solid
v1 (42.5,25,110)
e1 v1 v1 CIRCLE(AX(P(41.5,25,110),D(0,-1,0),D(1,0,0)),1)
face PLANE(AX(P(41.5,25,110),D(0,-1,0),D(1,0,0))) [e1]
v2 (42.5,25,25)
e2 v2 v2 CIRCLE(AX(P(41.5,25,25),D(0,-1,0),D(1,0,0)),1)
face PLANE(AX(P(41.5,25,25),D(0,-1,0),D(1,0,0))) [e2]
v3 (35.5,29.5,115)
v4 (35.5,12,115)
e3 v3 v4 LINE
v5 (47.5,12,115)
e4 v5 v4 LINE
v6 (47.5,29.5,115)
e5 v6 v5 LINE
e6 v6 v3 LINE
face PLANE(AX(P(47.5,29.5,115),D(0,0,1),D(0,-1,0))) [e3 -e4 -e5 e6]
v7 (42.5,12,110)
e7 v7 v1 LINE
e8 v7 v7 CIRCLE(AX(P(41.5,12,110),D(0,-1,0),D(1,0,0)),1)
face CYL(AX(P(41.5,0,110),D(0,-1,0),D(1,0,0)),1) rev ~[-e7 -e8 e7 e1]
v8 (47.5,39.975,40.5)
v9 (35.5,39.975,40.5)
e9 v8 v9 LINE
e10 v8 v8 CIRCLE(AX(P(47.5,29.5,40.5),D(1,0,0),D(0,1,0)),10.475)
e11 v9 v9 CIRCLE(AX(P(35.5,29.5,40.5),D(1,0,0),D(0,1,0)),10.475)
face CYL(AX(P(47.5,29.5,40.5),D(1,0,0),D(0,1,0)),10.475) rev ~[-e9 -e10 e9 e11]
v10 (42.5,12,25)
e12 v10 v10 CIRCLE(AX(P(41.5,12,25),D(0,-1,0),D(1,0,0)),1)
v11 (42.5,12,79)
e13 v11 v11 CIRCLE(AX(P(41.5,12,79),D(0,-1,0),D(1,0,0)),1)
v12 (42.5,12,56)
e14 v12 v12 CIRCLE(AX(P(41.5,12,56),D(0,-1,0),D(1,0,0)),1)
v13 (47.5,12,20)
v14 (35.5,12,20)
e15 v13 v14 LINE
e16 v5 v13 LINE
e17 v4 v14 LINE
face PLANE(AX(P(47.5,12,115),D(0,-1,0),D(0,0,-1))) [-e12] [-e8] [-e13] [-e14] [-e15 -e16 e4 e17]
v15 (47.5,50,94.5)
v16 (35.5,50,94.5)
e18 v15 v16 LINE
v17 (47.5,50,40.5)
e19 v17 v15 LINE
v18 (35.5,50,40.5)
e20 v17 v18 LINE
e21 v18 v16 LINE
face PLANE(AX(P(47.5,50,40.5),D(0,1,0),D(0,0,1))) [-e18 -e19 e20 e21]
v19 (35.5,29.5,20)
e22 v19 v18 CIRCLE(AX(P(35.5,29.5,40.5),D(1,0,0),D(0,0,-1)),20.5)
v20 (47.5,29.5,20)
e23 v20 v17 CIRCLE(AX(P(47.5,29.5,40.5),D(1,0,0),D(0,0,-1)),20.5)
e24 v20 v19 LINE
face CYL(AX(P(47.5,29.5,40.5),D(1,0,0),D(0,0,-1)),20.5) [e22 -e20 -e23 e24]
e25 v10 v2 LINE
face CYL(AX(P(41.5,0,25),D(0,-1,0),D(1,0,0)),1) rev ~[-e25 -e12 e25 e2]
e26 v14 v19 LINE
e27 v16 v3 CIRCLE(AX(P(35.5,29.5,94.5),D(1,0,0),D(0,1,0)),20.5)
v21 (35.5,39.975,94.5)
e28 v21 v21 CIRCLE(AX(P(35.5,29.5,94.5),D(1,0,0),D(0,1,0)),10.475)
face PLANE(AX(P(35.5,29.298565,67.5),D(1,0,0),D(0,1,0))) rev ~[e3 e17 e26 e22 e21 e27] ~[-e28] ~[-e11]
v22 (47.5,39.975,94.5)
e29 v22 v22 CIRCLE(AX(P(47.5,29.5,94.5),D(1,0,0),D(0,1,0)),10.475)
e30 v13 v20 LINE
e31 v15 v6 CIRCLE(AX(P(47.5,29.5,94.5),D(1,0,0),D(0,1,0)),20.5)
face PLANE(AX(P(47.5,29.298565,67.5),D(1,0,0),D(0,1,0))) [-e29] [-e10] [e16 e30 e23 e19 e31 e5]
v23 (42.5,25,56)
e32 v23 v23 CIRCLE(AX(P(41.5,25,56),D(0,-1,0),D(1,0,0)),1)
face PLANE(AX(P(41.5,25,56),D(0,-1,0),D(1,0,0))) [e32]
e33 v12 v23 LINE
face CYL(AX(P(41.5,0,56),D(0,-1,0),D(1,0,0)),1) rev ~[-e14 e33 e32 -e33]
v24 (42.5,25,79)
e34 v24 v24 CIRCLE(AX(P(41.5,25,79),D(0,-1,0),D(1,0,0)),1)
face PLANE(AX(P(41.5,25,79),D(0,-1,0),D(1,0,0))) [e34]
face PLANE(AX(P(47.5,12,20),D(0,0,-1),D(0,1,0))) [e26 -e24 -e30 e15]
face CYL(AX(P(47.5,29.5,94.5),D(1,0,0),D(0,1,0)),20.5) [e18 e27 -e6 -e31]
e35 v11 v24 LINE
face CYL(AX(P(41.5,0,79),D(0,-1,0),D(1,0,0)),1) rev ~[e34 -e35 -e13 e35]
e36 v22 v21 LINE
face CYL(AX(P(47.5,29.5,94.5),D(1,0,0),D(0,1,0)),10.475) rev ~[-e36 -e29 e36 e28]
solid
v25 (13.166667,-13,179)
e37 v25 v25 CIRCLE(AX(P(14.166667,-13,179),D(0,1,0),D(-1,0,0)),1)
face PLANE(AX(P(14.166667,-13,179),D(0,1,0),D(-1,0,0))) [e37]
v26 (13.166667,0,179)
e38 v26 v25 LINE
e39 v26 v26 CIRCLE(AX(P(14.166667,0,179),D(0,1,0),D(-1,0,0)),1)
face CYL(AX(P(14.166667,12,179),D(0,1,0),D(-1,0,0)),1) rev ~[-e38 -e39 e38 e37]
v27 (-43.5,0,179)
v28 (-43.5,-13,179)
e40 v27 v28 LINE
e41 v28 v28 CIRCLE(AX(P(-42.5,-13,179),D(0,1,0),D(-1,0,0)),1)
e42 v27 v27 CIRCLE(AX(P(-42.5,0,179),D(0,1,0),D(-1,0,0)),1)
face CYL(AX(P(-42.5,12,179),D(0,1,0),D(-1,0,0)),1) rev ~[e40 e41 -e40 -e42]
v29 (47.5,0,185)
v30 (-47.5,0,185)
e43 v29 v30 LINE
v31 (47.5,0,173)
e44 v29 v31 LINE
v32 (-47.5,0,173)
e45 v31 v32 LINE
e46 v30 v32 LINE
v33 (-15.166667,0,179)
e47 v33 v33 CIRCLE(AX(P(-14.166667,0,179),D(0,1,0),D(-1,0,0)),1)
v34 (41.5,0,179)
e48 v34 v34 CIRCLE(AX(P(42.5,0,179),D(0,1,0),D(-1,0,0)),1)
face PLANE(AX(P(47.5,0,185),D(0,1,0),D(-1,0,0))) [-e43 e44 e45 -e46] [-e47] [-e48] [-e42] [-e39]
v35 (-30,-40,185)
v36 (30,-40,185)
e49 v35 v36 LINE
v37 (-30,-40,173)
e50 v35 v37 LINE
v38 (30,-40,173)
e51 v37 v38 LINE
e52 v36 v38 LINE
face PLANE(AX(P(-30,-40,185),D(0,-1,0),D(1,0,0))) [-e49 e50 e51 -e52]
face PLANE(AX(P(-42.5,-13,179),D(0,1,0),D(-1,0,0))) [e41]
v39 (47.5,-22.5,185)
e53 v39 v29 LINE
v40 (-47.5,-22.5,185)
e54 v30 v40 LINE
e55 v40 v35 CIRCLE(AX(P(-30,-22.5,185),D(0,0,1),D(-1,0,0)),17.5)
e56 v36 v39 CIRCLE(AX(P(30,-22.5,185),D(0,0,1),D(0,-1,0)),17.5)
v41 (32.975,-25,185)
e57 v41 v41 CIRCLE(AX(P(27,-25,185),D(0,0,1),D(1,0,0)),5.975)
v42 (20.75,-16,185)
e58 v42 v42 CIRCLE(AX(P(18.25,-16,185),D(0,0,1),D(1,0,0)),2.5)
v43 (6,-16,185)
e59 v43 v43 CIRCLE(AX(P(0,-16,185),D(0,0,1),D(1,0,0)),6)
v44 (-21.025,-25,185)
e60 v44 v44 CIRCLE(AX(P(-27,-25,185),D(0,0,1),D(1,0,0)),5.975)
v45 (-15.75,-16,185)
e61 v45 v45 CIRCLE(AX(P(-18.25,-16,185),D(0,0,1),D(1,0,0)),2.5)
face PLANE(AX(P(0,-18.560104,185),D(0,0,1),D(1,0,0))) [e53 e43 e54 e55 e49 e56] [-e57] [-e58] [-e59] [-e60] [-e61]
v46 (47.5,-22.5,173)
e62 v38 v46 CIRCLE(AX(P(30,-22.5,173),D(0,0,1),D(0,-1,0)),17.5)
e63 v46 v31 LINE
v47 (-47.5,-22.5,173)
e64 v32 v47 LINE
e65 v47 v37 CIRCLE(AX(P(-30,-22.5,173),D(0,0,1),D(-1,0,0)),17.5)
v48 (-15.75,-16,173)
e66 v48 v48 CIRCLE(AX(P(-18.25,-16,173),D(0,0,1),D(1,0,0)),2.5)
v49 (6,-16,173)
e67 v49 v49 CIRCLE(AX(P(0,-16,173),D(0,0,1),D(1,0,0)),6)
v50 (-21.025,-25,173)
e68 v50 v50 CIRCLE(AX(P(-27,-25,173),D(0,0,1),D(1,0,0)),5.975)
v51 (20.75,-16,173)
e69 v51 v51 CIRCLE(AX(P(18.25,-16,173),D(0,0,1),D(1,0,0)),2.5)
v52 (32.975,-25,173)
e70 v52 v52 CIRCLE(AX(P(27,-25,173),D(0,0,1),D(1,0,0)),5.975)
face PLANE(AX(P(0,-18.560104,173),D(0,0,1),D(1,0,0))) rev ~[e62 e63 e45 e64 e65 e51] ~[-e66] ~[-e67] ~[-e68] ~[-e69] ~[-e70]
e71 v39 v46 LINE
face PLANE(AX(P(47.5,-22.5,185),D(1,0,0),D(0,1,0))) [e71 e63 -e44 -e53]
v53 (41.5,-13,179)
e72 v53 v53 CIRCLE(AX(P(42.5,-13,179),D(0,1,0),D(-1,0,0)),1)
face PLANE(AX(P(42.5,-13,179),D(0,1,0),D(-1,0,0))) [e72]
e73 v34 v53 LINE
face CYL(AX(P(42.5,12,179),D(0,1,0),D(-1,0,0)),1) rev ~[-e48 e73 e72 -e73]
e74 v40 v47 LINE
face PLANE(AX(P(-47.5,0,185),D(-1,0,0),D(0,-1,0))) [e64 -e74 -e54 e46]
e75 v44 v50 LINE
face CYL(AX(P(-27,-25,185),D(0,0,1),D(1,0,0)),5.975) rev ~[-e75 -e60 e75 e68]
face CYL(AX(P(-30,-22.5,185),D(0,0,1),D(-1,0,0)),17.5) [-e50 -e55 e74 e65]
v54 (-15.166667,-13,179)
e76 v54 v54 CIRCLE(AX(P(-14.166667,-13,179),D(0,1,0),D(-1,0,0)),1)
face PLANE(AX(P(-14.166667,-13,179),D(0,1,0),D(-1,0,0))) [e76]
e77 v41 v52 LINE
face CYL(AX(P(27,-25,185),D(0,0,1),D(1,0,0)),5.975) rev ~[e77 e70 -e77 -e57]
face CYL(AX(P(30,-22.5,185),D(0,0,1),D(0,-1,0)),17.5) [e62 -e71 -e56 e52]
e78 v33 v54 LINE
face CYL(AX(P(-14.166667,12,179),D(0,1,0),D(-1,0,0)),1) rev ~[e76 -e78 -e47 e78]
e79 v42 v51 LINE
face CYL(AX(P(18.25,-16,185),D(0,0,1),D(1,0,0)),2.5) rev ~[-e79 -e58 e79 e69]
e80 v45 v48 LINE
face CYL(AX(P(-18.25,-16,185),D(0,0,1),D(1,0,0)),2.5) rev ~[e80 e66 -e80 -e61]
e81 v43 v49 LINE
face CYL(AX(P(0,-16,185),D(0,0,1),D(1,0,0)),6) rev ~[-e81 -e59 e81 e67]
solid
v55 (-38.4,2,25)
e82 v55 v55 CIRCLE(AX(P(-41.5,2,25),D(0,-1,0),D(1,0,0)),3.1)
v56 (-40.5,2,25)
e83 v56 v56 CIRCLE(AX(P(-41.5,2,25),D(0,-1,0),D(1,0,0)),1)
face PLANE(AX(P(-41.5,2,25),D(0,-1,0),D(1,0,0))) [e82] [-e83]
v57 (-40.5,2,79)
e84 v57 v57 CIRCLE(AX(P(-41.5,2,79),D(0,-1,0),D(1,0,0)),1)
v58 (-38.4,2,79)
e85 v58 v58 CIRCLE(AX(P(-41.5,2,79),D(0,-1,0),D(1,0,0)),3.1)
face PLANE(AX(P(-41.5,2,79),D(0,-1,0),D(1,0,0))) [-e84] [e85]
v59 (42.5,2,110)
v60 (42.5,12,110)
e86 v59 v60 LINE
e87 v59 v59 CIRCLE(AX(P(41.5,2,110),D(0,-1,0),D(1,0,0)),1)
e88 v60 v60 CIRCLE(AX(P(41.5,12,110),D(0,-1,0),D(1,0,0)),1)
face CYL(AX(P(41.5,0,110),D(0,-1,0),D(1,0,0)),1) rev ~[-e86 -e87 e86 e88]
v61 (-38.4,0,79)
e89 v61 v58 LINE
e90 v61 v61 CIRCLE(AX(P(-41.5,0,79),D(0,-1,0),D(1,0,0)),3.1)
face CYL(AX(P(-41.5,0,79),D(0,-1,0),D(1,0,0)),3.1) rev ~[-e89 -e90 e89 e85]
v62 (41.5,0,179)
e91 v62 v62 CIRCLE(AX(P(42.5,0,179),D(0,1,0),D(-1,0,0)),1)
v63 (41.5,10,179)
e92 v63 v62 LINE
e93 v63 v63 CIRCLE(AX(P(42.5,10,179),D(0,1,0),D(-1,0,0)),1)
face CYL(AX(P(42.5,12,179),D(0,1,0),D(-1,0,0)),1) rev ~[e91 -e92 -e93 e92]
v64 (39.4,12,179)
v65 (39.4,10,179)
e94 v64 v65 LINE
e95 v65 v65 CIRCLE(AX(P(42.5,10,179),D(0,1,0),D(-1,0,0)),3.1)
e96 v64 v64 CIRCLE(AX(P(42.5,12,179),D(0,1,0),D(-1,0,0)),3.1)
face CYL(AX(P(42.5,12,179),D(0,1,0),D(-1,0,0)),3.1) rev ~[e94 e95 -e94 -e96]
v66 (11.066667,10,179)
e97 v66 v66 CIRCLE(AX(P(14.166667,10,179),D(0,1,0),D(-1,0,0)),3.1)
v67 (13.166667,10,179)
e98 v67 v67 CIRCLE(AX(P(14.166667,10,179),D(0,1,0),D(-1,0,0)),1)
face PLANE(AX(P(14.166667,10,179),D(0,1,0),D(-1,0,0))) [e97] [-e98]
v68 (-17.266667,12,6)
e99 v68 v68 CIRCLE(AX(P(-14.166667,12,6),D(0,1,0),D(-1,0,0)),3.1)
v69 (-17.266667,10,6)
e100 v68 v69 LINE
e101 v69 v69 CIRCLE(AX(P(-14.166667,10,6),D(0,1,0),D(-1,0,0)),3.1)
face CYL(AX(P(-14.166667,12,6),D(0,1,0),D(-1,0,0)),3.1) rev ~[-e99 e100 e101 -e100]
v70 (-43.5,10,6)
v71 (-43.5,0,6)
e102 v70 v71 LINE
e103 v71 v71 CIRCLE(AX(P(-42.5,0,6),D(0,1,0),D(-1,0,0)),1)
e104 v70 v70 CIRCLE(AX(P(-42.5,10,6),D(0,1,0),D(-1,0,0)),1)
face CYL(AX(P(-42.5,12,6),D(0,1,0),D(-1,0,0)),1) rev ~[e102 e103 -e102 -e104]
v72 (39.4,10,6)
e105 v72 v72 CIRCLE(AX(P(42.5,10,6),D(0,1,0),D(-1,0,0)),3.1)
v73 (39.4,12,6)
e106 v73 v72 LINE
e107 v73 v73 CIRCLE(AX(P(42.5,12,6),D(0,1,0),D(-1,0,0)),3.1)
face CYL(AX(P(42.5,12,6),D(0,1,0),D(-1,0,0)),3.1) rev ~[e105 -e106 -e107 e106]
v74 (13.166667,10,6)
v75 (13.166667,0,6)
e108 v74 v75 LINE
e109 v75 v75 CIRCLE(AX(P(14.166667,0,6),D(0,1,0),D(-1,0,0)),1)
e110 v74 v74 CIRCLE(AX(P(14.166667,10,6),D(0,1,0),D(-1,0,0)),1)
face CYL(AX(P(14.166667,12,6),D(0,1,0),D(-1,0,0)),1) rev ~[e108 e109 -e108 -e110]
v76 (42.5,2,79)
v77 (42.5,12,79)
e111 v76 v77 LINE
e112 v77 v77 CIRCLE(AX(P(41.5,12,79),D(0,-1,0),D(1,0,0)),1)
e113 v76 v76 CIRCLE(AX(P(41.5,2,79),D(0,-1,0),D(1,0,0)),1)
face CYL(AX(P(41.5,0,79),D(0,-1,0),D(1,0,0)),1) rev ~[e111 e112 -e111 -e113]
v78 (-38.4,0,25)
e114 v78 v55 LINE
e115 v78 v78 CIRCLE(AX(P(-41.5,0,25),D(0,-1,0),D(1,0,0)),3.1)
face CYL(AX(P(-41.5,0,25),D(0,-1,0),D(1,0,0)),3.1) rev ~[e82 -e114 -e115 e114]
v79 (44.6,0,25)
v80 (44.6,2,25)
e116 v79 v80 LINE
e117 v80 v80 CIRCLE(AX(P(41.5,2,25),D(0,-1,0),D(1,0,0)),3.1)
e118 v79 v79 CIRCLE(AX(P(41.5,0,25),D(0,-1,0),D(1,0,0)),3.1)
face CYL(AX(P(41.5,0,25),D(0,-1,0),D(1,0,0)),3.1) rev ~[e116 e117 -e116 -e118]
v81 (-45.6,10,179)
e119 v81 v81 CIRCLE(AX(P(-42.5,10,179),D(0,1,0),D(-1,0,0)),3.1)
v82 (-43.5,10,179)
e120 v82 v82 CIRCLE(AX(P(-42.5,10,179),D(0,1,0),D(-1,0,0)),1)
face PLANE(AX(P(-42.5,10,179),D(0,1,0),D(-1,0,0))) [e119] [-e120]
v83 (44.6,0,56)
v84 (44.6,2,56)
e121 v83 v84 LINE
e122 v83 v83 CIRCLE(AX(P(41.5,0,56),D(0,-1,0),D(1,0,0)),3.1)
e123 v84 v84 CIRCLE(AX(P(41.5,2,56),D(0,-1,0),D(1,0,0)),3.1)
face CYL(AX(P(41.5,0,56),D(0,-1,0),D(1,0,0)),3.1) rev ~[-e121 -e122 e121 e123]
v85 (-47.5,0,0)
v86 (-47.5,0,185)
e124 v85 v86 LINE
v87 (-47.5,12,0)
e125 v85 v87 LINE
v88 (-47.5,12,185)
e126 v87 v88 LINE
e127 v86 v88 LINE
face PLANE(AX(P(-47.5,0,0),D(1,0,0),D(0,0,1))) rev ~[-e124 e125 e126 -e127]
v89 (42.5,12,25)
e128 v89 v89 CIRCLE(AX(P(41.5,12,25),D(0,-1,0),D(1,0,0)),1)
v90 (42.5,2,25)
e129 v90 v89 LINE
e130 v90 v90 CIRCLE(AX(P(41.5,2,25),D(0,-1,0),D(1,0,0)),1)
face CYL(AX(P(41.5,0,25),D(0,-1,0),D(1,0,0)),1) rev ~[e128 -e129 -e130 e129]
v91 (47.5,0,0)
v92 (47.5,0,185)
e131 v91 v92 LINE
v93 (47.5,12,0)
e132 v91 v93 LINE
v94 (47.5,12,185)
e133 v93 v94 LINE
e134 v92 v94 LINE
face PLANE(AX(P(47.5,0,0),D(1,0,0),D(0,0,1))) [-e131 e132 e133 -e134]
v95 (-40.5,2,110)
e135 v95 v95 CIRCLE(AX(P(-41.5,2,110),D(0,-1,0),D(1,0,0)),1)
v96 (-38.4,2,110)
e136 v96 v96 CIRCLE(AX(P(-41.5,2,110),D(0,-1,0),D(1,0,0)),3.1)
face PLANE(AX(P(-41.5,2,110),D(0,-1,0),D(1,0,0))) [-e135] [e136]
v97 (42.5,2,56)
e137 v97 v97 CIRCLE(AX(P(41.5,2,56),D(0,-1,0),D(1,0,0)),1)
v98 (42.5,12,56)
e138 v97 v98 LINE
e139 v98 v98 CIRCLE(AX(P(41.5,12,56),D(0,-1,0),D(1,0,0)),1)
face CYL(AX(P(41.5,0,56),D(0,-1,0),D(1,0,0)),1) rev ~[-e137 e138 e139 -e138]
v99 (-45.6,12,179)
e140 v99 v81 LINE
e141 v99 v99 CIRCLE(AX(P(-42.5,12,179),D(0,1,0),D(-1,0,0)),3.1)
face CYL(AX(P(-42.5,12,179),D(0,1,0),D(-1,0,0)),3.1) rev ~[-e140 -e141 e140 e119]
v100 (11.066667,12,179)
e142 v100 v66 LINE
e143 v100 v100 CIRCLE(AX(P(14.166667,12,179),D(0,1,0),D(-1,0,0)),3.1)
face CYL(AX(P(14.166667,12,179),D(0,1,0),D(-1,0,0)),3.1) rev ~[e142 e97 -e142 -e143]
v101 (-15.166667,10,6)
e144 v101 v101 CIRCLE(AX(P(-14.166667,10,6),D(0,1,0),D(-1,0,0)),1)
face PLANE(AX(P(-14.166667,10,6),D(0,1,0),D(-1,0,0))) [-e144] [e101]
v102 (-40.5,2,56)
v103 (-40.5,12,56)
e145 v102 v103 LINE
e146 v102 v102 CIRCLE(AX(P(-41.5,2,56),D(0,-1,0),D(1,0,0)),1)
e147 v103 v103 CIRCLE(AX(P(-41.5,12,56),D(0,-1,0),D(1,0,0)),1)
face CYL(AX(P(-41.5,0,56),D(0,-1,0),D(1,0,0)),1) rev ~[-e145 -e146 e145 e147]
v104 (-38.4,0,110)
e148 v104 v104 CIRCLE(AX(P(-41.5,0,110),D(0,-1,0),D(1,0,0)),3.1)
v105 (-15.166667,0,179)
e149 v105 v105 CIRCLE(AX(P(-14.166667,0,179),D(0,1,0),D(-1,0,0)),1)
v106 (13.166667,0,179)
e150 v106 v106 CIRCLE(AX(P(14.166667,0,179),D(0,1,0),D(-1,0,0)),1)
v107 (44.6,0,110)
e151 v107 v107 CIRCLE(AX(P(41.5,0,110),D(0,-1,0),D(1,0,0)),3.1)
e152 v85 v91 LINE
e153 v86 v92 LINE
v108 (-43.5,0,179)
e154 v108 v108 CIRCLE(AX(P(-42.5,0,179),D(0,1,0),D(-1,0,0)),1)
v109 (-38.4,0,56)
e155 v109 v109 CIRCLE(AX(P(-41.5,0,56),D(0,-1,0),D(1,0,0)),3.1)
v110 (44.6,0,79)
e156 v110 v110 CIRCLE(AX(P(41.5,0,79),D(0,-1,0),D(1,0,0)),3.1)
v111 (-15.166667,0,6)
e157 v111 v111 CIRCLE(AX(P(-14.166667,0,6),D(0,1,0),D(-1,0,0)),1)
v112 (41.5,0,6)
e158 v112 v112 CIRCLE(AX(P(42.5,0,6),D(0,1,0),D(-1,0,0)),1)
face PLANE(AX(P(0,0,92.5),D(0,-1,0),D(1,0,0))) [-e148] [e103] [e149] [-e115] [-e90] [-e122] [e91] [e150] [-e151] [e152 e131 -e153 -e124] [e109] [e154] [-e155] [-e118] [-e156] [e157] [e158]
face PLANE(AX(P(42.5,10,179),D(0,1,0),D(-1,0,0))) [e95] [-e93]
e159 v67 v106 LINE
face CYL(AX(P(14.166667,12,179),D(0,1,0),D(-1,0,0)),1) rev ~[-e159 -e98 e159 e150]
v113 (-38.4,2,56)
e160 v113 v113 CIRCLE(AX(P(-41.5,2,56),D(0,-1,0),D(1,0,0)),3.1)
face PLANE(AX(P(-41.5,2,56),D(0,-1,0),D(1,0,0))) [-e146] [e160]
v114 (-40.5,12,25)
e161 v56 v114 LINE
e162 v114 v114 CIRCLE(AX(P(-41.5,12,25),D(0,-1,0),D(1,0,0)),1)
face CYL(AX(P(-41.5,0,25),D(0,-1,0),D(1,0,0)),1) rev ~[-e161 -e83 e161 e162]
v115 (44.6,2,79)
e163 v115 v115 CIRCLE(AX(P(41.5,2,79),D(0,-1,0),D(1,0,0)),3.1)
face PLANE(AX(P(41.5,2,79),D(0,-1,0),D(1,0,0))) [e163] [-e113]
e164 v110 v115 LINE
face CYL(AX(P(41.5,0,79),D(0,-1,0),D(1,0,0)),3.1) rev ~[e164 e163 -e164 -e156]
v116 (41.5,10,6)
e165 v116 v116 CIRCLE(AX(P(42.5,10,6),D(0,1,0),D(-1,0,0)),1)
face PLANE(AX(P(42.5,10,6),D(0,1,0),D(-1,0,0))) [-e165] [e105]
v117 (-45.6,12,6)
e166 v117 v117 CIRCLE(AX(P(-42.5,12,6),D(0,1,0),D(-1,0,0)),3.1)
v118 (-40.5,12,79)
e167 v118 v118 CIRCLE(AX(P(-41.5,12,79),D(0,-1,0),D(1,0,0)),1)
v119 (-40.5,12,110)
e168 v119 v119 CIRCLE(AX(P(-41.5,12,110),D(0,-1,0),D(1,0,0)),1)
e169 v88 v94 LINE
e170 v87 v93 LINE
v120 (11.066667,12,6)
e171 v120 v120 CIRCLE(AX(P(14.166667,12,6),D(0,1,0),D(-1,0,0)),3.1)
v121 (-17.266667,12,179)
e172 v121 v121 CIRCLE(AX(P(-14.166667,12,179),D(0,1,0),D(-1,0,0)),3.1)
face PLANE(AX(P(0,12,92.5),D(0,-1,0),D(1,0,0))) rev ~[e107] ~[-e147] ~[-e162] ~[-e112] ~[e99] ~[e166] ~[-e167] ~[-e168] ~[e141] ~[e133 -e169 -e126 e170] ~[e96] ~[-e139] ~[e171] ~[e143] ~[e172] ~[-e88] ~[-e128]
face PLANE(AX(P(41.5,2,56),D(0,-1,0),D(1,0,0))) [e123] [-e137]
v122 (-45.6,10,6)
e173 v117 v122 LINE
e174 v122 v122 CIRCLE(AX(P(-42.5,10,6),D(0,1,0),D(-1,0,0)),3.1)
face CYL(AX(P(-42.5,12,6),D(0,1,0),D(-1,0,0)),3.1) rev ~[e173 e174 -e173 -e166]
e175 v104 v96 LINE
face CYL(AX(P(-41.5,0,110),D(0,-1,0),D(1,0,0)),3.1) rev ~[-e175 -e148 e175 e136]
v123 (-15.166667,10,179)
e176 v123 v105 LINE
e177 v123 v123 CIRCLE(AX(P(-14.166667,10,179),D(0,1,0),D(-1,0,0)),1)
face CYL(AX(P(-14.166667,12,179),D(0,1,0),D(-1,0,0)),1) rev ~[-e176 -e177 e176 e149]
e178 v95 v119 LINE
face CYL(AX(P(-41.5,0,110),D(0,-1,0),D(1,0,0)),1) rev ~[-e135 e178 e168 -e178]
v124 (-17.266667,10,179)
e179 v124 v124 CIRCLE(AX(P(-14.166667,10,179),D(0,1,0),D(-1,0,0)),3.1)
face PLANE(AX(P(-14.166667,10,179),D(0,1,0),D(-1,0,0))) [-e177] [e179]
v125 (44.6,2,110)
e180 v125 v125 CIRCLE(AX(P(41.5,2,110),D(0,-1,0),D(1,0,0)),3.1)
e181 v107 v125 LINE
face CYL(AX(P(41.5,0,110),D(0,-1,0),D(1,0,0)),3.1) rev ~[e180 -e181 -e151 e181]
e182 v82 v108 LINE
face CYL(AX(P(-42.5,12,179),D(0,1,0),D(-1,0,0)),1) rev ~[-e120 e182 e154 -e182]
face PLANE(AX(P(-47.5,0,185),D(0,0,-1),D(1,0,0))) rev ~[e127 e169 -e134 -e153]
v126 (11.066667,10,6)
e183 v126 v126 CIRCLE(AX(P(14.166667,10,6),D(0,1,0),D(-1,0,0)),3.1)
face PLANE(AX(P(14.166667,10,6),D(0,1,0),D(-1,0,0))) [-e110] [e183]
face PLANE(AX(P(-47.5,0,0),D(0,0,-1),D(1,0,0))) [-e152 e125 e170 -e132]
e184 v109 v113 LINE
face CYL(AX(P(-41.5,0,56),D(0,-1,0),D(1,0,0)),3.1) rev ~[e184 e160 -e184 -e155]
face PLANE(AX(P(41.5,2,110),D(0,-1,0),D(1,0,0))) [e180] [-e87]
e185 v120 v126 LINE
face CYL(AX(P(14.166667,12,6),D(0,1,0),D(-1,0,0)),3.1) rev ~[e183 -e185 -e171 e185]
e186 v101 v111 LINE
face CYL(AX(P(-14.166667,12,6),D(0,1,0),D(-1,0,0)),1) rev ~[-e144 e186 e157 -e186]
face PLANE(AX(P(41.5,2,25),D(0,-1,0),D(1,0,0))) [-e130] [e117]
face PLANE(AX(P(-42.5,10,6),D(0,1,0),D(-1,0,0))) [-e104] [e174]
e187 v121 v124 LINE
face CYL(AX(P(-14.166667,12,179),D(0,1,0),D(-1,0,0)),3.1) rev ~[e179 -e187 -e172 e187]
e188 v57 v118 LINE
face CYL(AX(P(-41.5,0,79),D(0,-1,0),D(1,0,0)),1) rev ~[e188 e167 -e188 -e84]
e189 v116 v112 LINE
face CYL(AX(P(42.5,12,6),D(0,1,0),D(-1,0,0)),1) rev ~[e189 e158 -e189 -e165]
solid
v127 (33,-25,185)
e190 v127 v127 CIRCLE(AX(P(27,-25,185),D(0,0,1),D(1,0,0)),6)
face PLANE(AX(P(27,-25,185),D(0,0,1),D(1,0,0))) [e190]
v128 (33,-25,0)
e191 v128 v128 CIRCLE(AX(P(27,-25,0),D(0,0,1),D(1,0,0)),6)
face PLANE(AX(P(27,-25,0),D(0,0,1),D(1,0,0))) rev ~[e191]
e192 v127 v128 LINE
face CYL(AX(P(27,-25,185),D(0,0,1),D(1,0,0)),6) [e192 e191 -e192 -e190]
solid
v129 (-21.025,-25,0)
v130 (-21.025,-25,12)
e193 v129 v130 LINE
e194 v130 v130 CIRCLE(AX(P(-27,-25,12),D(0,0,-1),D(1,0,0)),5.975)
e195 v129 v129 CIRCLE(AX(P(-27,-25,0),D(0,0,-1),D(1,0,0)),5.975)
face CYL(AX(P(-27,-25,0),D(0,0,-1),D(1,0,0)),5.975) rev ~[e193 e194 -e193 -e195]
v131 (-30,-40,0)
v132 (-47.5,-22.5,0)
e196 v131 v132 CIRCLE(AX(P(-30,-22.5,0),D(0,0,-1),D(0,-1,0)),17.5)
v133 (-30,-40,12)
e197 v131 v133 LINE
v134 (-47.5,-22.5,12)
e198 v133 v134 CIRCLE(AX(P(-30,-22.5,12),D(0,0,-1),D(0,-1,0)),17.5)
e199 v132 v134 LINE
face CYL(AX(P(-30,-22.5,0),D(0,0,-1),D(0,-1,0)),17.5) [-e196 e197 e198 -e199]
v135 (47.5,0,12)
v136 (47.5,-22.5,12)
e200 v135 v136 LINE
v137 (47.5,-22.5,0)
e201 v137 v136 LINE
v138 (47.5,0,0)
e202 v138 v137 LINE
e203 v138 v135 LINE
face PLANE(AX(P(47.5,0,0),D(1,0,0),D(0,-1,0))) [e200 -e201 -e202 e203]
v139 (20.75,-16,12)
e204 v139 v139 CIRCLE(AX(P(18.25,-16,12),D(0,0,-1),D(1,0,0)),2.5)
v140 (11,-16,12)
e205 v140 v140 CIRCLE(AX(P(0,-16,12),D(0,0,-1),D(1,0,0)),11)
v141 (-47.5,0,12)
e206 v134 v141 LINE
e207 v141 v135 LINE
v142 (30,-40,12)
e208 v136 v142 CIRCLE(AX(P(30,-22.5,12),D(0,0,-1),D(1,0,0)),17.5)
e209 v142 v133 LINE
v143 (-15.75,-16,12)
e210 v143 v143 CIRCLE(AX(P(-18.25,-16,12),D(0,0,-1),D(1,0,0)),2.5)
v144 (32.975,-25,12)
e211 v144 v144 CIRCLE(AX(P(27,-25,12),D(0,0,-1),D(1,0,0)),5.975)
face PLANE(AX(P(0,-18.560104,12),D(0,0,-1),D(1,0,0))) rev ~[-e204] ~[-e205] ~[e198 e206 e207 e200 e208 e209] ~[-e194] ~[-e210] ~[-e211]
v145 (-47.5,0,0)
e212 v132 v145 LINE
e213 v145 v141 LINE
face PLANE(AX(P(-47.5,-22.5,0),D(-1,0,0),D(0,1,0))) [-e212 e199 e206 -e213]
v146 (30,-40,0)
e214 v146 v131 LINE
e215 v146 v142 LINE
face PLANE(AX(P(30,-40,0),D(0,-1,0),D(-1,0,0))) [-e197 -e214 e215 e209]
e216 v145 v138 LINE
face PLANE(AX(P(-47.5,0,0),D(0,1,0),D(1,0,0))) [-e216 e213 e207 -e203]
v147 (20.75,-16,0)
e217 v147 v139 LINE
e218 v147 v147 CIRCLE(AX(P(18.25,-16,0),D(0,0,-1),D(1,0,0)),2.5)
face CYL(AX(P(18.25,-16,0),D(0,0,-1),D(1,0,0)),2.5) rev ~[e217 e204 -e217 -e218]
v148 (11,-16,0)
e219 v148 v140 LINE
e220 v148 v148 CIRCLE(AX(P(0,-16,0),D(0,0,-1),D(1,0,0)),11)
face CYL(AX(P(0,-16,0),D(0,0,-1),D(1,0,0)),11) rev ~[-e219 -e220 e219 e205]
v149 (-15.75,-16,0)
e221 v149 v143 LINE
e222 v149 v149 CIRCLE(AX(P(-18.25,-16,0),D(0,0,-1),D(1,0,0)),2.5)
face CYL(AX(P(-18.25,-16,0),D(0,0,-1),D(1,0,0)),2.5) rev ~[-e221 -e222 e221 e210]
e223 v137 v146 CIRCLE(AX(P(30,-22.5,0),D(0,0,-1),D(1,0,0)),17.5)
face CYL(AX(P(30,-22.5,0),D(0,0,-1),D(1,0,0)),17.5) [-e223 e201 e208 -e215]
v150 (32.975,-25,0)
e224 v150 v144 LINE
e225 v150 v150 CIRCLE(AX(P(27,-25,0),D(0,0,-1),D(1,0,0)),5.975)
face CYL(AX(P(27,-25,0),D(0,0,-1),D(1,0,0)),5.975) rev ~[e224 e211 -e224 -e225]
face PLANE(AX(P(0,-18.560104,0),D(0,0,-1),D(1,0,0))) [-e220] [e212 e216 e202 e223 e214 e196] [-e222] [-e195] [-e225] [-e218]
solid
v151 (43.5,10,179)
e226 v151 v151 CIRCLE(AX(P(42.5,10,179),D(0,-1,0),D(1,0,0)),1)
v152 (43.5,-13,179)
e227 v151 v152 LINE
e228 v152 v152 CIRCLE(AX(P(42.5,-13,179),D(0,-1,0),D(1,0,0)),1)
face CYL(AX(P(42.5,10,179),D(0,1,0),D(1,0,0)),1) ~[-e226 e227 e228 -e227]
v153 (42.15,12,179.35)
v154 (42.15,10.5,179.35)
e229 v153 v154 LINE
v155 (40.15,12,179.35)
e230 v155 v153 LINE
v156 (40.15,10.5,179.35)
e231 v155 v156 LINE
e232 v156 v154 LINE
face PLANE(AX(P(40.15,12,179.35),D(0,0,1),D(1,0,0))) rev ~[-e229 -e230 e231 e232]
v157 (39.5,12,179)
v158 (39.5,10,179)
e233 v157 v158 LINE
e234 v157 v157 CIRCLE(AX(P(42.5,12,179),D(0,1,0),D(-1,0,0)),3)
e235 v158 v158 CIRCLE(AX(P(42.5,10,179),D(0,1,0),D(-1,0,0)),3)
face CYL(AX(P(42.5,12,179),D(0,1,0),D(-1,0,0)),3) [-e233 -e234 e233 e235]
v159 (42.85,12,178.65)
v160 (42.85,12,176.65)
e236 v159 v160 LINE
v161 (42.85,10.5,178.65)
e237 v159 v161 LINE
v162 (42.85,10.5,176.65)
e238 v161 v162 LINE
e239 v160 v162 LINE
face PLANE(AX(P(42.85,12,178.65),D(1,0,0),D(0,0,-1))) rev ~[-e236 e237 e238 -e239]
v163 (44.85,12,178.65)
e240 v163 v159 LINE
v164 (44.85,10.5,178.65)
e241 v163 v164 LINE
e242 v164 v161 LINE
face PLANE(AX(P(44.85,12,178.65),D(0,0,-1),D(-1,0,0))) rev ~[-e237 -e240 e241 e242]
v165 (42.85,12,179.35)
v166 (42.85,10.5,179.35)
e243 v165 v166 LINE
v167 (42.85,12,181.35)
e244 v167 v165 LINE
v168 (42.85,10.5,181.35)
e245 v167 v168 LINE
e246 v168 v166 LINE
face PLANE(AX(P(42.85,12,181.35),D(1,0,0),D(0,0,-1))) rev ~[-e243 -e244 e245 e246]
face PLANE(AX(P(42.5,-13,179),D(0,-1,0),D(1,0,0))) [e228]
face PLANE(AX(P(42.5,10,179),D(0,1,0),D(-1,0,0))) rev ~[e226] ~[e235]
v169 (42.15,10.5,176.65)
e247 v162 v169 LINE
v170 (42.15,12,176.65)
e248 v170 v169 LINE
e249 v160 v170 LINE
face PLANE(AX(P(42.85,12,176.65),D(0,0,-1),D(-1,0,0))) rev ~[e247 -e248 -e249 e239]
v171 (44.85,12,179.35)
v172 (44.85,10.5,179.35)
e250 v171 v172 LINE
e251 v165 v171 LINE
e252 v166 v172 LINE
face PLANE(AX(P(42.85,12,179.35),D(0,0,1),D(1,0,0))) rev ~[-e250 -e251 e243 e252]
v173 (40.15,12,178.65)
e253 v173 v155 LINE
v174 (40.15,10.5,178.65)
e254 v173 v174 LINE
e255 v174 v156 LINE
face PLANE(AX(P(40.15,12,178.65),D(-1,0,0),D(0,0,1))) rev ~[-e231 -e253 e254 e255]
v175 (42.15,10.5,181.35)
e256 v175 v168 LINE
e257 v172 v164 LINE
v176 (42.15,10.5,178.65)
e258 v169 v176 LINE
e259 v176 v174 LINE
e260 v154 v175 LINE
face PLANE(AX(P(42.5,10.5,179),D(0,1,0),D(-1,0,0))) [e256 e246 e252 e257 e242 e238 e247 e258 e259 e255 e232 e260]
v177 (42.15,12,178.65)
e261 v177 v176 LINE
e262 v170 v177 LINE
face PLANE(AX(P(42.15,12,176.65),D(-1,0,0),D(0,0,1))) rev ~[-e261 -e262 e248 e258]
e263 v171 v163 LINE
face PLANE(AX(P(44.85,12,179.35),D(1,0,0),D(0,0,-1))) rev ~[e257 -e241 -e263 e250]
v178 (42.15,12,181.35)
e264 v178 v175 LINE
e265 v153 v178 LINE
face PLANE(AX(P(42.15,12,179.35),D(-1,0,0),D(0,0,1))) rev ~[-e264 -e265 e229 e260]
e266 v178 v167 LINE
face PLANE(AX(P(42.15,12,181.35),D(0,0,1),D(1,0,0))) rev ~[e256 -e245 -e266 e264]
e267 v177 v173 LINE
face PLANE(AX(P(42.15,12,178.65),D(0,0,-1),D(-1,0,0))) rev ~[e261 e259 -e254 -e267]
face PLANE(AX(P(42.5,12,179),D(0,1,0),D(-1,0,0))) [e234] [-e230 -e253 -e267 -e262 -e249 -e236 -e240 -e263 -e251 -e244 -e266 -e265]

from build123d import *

# Parameters (mm, degrees)
F0_W      = 95
F0_H      = 185
F1_DEPTH  = 12
F2_R      = 5.975
F2_R_2    = 2.5
F2_R_3    = 6
F3_DEPTH  = 12
F4_R      = 3.1
F5_DEPTH  = 2
F6_R      = 1
F7_DEPTH  = 25
F8_R      = 6
F9_DEPTH  = 185
F10_R     = 3
F11_DEPTH = 2
F12_R     = 1
F13_DEPTH = 23
F15_DEPTH = 1.5
F16_R     = 10.475
F17_DEPTH = 12
F18_R     = 3.1
F19_DEPTH = 2
F20_R     = 1
F21_DEPTH = 25
F22_R     = 2.5
F22_R_2   = 11
F22_R_3   = 5.975
F23_DEPTH = 12


with BuildPart() as f1:
    # F0 (on Front) → F1 (new body)
    with BuildSketch(Plane.XZ):
        with Locations((0, 92.5)):
            Rectangle(F0_W, F0_H)
    extrude(amount=-F1_DEPTH)

    # F4 (on face) → F5 (cut)
    with BuildSketch(Plane(origin=(0, 12, 0), x_dir=(-1, 0, 0), z_dir=(0, 1, 0))):
        with Locations((-42.5, 179)):
            Circle(F4_R)
        with Locations((-14.1666666667, 179)):
            Circle(F4_R)
        with Locations((14.1666666667, 179)):
            Circle(F4_R)
        with Locations((42.5, 179)):
            Circle(F4_R)
        with Locations((-42.5, 6)):
            Circle(F4_R)
        with Locations((-14.1666666667, 6)):
            Circle(F4_R)
        with Locations((14.1666666667, 6)):
            Circle(F4_R)
        with Locations((42.5, 6)):
            Circle(F4_R)
    extrude(amount=-F5_DEPTH, mode=Mode.SUBTRACT)


with BuildPart() as f3:
    # F2 (on face) → F3 (new body)
    with BuildSketch(Plane.XY.offset(185)):
        with BuildLine():
            Line((47.5, 0), (-47.5, 0))
            Line((-47.5, 0), (-47.5, -22.5))
            ThreePointArc((-47.5, -22.5), (-42.3743686708, -34.8743686708), (-30, -40))
            Line((-30, -40), (30, -40))
            ThreePointArc((30, -40), (42.3743686708, -34.8743686708), (47.5, -22.5))
            Line((47.5, -22.5), (47.5, 0))
        make_face()
        with Locations((-27, -25)):
            Circle(F2_R, mode=Mode.SUBTRACT)
        with Locations((27, -25)):
            Circle(F2_R, mode=Mode.SUBTRACT)
        with Locations((-18.25, -16)):
            Circle(F2_R_2, mode=Mode.SUBTRACT)
        with Locations((0, -16)):
            Circle(F2_R_3, mode=Mode.SUBTRACT)
        with Locations((18.25, -16)):
            Circle(F2_R_2, mode=Mode.SUBTRACT)
    extrude(amount=-F3_DEPTH)


with BuildPart() as f7_tool:
    # F6 (on face) → F7 (new body)
    with BuildSketch(Plane(origin=(0, 12, 0), x_dir=(-1, 0, 0), z_dir=(0, 1, 0))):
        with Locations((-42.5, 179)):
            Circle(F6_R)
        with Locations((-14.1666666667, 179)):
            Circle(F6_R)
        with Locations((14.1666666667, 179)):
            Circle(F6_R)
        with Locations((42.5, 179)):
            Circle(F6_R)
        with Locations((-42.5, 6)):
            Circle(F6_R)
        with Locations((-14.1666666667, 6)):
            Circle(F6_R)
        with Locations((14.1666666667, 6)):
            Circle(F6_R)
        with Locations((42.5, 6)):
            Circle(F6_R)
    extrude(amount=-F7_DEPTH)


with BuildPart() as f1_1:
    add(f1.part)

    # F7: cut by f7_tool
    add(f7_tool.part, mode=Mode.SUBTRACT)

    # F18 (on face) → F19 (cut)
    with BuildSketch(Plane.XZ):
        with Locations((41.5, 25)):
            Circle(F18_R)
        with Locations((41.5, 56)):
            Circle(F18_R)
        with Locations((41.5, 79)):
            Circle(F18_R)
        with Locations((41.5, 110)):
            Circle(F18_R)
        with Locations((-41.5, 25)):
            Circle(F18_R)
        with Locations((-41.5, 56)):
            Circle(F18_R)
        with Locations((-41.5, 79)):
            Circle(F18_R)
        with Locations((-41.5, 110)):
            Circle(F18_R)
    extrude(amount=-F19_DEPTH, mode=Mode.SUBTRACT)


with BuildPart() as f3_1:
    add(f3.part)

    # F7: cut by f7_tool
    add(f7_tool.part, mode=Mode.SUBTRACT)


with BuildPart() as f9:
    # F8 (on face) → F9 (new body)
    with BuildSketch(Plane.XY.offset(185)):
        with Locations((27, -25)):
            Circle(F8_R)
    extrude(amount=-F9_DEPTH)


with BuildPart() as f11:
    # F10 (on face) → F11 (new body)
    with BuildSketch(Plane(origin=(0, 12, 0), x_dir=(-1, 0, 0), z_dir=(0, 1, 0))):
        with Locations((-42.5, 179)):
            Circle(F10_R)
    extrude(amount=-F11_DEPTH)

    # F12 (on face) → F13 (join)
    with BuildSketch(Plane.XZ.offset(-10)):
        with Locations((42.5, 179)):
            Circle(F12_R)
    extrude(amount=F13_DEPTH)

    # F14 (on face) → F15 (cut)
    with BuildSketch(Plane(origin=(0, 12, 0), x_dir=(-1, 0, 0), z_dir=(0, 1, 0))):
        Polygon((-42.15, 181.35), (-42.85, 181.35), (-42.85, 179.35), (-44.85, 179.35), (-44.85, 178.65), (-42.85, 178.65), (-42.85, 176.65), (-42.15, 176.65), (-42.15, 178.65), (-40.15, 178.65), (-40.15, 179.35), (-42.15, 179.35), align=None)
    extrude(amount=-F15_DEPTH, mode=Mode.SUBTRACT)


with BuildPart() as f17:
    # F16 (on face) → F17 (new body)
    with BuildSketch(Plane.YZ.offset(47.5)):
        with BuildLine():
            Line((12, 115), (12, 20))
            Line((12, 20), (29.5, 20))
            ThreePointArc((29.5, 20), (43.9956890143, 26.0043109857), (50, 40.5))
            Line((50, 40.5), (50, 94.5))
            ThreePointArc((50, 94.5), (43.9956890143, 108.9956890143), (29.5, 115))
            Line((29.5, 115), (12, 115))
        make_face()
        with Locations((29.5, 40.5)):
            Circle(F16_R, mode=Mode.SUBTRACT)
        with Locations((29.5, 94.5)):
            Circle(F16_R, mode=Mode.SUBTRACT)
    extrude(amount=-F17_DEPTH)


with BuildPart() as f21_tool:
    # F20 (on face) → F21 (new body)
    with BuildSketch(Plane.XZ):
        with Locations((-41.5, 25)):
            Circle(F20_R)
        with Locations((-41.5, 56)):
            Circle(F20_R)
        with Locations((-41.5, 79)):
            Circle(F20_R)
        with Locations((-41.5, 110)):
            Circle(F20_R)
        with Locations((41.5, 110)):
            Circle(F20_R)
        with Locations((41.5, 79)):
            Circle(F20_R)
        with Locations((41.5, 56)):
            Circle(F20_R)
        with Locations((41.5, 25)):
            Circle(F20_R)
    extrude(amount=-F21_DEPTH)


with BuildPart() as f1_2:
    add(f1_1.part)

    # F21: cut by f21_tool
    add(f21_tool.part, mode=Mode.SUBTRACT)


with BuildPart() as f17_1:
    add(f17.part)

    # F21: cut by f21_tool
    add(f21_tool.part, mode=Mode.SUBTRACT)


with BuildPart() as f23:
    # F22 (on face) → F23 (new body)
    with BuildSketch(Plane(origin=(0, 0, 0), x_dir=(1, 0, 0), z_dir=(0, 0, -1))):
        with BuildLine():
            Line((-47.5, 22.5), (-47.5, 0))
            Line((-47.5, 0), (47.5, 0))
            Line((47.5, 0), (47.5, 22.5))
            ThreePointArc((47.5, 22.5), (42.3743686708, 34.8743686708), (30, 40))
            Line((30, 40), (-30, 40))
            ThreePointArc((-30, 40), (-42.3743686708, 34.8743686708), (-47.5, 22.5))
        make_face()
        with Locations((-18.25, 16)):
            Circle(F22_R, mode=Mode.SUBTRACT)
        with Locations((0, 16)):
            Circle(F22_R_2, mode=Mode.SUBTRACT)
        with Locations((18.25, 16)):
            Circle(F22_R, mode=Mode.SUBTRACT)
        with Locations((-27, 25)):
            Circle(F22_R_3, mode=Mode.SUBTRACT)
        with Locations((27, 25)):
            Circle(F22_R_3, mode=Mode.SUBTRACT)
    extrude(amount=-F23_DEPTH)


solid = Compound([f3_1.part, f9.part, f11.part, f1_2.part, f17_1.part, f23.part])
